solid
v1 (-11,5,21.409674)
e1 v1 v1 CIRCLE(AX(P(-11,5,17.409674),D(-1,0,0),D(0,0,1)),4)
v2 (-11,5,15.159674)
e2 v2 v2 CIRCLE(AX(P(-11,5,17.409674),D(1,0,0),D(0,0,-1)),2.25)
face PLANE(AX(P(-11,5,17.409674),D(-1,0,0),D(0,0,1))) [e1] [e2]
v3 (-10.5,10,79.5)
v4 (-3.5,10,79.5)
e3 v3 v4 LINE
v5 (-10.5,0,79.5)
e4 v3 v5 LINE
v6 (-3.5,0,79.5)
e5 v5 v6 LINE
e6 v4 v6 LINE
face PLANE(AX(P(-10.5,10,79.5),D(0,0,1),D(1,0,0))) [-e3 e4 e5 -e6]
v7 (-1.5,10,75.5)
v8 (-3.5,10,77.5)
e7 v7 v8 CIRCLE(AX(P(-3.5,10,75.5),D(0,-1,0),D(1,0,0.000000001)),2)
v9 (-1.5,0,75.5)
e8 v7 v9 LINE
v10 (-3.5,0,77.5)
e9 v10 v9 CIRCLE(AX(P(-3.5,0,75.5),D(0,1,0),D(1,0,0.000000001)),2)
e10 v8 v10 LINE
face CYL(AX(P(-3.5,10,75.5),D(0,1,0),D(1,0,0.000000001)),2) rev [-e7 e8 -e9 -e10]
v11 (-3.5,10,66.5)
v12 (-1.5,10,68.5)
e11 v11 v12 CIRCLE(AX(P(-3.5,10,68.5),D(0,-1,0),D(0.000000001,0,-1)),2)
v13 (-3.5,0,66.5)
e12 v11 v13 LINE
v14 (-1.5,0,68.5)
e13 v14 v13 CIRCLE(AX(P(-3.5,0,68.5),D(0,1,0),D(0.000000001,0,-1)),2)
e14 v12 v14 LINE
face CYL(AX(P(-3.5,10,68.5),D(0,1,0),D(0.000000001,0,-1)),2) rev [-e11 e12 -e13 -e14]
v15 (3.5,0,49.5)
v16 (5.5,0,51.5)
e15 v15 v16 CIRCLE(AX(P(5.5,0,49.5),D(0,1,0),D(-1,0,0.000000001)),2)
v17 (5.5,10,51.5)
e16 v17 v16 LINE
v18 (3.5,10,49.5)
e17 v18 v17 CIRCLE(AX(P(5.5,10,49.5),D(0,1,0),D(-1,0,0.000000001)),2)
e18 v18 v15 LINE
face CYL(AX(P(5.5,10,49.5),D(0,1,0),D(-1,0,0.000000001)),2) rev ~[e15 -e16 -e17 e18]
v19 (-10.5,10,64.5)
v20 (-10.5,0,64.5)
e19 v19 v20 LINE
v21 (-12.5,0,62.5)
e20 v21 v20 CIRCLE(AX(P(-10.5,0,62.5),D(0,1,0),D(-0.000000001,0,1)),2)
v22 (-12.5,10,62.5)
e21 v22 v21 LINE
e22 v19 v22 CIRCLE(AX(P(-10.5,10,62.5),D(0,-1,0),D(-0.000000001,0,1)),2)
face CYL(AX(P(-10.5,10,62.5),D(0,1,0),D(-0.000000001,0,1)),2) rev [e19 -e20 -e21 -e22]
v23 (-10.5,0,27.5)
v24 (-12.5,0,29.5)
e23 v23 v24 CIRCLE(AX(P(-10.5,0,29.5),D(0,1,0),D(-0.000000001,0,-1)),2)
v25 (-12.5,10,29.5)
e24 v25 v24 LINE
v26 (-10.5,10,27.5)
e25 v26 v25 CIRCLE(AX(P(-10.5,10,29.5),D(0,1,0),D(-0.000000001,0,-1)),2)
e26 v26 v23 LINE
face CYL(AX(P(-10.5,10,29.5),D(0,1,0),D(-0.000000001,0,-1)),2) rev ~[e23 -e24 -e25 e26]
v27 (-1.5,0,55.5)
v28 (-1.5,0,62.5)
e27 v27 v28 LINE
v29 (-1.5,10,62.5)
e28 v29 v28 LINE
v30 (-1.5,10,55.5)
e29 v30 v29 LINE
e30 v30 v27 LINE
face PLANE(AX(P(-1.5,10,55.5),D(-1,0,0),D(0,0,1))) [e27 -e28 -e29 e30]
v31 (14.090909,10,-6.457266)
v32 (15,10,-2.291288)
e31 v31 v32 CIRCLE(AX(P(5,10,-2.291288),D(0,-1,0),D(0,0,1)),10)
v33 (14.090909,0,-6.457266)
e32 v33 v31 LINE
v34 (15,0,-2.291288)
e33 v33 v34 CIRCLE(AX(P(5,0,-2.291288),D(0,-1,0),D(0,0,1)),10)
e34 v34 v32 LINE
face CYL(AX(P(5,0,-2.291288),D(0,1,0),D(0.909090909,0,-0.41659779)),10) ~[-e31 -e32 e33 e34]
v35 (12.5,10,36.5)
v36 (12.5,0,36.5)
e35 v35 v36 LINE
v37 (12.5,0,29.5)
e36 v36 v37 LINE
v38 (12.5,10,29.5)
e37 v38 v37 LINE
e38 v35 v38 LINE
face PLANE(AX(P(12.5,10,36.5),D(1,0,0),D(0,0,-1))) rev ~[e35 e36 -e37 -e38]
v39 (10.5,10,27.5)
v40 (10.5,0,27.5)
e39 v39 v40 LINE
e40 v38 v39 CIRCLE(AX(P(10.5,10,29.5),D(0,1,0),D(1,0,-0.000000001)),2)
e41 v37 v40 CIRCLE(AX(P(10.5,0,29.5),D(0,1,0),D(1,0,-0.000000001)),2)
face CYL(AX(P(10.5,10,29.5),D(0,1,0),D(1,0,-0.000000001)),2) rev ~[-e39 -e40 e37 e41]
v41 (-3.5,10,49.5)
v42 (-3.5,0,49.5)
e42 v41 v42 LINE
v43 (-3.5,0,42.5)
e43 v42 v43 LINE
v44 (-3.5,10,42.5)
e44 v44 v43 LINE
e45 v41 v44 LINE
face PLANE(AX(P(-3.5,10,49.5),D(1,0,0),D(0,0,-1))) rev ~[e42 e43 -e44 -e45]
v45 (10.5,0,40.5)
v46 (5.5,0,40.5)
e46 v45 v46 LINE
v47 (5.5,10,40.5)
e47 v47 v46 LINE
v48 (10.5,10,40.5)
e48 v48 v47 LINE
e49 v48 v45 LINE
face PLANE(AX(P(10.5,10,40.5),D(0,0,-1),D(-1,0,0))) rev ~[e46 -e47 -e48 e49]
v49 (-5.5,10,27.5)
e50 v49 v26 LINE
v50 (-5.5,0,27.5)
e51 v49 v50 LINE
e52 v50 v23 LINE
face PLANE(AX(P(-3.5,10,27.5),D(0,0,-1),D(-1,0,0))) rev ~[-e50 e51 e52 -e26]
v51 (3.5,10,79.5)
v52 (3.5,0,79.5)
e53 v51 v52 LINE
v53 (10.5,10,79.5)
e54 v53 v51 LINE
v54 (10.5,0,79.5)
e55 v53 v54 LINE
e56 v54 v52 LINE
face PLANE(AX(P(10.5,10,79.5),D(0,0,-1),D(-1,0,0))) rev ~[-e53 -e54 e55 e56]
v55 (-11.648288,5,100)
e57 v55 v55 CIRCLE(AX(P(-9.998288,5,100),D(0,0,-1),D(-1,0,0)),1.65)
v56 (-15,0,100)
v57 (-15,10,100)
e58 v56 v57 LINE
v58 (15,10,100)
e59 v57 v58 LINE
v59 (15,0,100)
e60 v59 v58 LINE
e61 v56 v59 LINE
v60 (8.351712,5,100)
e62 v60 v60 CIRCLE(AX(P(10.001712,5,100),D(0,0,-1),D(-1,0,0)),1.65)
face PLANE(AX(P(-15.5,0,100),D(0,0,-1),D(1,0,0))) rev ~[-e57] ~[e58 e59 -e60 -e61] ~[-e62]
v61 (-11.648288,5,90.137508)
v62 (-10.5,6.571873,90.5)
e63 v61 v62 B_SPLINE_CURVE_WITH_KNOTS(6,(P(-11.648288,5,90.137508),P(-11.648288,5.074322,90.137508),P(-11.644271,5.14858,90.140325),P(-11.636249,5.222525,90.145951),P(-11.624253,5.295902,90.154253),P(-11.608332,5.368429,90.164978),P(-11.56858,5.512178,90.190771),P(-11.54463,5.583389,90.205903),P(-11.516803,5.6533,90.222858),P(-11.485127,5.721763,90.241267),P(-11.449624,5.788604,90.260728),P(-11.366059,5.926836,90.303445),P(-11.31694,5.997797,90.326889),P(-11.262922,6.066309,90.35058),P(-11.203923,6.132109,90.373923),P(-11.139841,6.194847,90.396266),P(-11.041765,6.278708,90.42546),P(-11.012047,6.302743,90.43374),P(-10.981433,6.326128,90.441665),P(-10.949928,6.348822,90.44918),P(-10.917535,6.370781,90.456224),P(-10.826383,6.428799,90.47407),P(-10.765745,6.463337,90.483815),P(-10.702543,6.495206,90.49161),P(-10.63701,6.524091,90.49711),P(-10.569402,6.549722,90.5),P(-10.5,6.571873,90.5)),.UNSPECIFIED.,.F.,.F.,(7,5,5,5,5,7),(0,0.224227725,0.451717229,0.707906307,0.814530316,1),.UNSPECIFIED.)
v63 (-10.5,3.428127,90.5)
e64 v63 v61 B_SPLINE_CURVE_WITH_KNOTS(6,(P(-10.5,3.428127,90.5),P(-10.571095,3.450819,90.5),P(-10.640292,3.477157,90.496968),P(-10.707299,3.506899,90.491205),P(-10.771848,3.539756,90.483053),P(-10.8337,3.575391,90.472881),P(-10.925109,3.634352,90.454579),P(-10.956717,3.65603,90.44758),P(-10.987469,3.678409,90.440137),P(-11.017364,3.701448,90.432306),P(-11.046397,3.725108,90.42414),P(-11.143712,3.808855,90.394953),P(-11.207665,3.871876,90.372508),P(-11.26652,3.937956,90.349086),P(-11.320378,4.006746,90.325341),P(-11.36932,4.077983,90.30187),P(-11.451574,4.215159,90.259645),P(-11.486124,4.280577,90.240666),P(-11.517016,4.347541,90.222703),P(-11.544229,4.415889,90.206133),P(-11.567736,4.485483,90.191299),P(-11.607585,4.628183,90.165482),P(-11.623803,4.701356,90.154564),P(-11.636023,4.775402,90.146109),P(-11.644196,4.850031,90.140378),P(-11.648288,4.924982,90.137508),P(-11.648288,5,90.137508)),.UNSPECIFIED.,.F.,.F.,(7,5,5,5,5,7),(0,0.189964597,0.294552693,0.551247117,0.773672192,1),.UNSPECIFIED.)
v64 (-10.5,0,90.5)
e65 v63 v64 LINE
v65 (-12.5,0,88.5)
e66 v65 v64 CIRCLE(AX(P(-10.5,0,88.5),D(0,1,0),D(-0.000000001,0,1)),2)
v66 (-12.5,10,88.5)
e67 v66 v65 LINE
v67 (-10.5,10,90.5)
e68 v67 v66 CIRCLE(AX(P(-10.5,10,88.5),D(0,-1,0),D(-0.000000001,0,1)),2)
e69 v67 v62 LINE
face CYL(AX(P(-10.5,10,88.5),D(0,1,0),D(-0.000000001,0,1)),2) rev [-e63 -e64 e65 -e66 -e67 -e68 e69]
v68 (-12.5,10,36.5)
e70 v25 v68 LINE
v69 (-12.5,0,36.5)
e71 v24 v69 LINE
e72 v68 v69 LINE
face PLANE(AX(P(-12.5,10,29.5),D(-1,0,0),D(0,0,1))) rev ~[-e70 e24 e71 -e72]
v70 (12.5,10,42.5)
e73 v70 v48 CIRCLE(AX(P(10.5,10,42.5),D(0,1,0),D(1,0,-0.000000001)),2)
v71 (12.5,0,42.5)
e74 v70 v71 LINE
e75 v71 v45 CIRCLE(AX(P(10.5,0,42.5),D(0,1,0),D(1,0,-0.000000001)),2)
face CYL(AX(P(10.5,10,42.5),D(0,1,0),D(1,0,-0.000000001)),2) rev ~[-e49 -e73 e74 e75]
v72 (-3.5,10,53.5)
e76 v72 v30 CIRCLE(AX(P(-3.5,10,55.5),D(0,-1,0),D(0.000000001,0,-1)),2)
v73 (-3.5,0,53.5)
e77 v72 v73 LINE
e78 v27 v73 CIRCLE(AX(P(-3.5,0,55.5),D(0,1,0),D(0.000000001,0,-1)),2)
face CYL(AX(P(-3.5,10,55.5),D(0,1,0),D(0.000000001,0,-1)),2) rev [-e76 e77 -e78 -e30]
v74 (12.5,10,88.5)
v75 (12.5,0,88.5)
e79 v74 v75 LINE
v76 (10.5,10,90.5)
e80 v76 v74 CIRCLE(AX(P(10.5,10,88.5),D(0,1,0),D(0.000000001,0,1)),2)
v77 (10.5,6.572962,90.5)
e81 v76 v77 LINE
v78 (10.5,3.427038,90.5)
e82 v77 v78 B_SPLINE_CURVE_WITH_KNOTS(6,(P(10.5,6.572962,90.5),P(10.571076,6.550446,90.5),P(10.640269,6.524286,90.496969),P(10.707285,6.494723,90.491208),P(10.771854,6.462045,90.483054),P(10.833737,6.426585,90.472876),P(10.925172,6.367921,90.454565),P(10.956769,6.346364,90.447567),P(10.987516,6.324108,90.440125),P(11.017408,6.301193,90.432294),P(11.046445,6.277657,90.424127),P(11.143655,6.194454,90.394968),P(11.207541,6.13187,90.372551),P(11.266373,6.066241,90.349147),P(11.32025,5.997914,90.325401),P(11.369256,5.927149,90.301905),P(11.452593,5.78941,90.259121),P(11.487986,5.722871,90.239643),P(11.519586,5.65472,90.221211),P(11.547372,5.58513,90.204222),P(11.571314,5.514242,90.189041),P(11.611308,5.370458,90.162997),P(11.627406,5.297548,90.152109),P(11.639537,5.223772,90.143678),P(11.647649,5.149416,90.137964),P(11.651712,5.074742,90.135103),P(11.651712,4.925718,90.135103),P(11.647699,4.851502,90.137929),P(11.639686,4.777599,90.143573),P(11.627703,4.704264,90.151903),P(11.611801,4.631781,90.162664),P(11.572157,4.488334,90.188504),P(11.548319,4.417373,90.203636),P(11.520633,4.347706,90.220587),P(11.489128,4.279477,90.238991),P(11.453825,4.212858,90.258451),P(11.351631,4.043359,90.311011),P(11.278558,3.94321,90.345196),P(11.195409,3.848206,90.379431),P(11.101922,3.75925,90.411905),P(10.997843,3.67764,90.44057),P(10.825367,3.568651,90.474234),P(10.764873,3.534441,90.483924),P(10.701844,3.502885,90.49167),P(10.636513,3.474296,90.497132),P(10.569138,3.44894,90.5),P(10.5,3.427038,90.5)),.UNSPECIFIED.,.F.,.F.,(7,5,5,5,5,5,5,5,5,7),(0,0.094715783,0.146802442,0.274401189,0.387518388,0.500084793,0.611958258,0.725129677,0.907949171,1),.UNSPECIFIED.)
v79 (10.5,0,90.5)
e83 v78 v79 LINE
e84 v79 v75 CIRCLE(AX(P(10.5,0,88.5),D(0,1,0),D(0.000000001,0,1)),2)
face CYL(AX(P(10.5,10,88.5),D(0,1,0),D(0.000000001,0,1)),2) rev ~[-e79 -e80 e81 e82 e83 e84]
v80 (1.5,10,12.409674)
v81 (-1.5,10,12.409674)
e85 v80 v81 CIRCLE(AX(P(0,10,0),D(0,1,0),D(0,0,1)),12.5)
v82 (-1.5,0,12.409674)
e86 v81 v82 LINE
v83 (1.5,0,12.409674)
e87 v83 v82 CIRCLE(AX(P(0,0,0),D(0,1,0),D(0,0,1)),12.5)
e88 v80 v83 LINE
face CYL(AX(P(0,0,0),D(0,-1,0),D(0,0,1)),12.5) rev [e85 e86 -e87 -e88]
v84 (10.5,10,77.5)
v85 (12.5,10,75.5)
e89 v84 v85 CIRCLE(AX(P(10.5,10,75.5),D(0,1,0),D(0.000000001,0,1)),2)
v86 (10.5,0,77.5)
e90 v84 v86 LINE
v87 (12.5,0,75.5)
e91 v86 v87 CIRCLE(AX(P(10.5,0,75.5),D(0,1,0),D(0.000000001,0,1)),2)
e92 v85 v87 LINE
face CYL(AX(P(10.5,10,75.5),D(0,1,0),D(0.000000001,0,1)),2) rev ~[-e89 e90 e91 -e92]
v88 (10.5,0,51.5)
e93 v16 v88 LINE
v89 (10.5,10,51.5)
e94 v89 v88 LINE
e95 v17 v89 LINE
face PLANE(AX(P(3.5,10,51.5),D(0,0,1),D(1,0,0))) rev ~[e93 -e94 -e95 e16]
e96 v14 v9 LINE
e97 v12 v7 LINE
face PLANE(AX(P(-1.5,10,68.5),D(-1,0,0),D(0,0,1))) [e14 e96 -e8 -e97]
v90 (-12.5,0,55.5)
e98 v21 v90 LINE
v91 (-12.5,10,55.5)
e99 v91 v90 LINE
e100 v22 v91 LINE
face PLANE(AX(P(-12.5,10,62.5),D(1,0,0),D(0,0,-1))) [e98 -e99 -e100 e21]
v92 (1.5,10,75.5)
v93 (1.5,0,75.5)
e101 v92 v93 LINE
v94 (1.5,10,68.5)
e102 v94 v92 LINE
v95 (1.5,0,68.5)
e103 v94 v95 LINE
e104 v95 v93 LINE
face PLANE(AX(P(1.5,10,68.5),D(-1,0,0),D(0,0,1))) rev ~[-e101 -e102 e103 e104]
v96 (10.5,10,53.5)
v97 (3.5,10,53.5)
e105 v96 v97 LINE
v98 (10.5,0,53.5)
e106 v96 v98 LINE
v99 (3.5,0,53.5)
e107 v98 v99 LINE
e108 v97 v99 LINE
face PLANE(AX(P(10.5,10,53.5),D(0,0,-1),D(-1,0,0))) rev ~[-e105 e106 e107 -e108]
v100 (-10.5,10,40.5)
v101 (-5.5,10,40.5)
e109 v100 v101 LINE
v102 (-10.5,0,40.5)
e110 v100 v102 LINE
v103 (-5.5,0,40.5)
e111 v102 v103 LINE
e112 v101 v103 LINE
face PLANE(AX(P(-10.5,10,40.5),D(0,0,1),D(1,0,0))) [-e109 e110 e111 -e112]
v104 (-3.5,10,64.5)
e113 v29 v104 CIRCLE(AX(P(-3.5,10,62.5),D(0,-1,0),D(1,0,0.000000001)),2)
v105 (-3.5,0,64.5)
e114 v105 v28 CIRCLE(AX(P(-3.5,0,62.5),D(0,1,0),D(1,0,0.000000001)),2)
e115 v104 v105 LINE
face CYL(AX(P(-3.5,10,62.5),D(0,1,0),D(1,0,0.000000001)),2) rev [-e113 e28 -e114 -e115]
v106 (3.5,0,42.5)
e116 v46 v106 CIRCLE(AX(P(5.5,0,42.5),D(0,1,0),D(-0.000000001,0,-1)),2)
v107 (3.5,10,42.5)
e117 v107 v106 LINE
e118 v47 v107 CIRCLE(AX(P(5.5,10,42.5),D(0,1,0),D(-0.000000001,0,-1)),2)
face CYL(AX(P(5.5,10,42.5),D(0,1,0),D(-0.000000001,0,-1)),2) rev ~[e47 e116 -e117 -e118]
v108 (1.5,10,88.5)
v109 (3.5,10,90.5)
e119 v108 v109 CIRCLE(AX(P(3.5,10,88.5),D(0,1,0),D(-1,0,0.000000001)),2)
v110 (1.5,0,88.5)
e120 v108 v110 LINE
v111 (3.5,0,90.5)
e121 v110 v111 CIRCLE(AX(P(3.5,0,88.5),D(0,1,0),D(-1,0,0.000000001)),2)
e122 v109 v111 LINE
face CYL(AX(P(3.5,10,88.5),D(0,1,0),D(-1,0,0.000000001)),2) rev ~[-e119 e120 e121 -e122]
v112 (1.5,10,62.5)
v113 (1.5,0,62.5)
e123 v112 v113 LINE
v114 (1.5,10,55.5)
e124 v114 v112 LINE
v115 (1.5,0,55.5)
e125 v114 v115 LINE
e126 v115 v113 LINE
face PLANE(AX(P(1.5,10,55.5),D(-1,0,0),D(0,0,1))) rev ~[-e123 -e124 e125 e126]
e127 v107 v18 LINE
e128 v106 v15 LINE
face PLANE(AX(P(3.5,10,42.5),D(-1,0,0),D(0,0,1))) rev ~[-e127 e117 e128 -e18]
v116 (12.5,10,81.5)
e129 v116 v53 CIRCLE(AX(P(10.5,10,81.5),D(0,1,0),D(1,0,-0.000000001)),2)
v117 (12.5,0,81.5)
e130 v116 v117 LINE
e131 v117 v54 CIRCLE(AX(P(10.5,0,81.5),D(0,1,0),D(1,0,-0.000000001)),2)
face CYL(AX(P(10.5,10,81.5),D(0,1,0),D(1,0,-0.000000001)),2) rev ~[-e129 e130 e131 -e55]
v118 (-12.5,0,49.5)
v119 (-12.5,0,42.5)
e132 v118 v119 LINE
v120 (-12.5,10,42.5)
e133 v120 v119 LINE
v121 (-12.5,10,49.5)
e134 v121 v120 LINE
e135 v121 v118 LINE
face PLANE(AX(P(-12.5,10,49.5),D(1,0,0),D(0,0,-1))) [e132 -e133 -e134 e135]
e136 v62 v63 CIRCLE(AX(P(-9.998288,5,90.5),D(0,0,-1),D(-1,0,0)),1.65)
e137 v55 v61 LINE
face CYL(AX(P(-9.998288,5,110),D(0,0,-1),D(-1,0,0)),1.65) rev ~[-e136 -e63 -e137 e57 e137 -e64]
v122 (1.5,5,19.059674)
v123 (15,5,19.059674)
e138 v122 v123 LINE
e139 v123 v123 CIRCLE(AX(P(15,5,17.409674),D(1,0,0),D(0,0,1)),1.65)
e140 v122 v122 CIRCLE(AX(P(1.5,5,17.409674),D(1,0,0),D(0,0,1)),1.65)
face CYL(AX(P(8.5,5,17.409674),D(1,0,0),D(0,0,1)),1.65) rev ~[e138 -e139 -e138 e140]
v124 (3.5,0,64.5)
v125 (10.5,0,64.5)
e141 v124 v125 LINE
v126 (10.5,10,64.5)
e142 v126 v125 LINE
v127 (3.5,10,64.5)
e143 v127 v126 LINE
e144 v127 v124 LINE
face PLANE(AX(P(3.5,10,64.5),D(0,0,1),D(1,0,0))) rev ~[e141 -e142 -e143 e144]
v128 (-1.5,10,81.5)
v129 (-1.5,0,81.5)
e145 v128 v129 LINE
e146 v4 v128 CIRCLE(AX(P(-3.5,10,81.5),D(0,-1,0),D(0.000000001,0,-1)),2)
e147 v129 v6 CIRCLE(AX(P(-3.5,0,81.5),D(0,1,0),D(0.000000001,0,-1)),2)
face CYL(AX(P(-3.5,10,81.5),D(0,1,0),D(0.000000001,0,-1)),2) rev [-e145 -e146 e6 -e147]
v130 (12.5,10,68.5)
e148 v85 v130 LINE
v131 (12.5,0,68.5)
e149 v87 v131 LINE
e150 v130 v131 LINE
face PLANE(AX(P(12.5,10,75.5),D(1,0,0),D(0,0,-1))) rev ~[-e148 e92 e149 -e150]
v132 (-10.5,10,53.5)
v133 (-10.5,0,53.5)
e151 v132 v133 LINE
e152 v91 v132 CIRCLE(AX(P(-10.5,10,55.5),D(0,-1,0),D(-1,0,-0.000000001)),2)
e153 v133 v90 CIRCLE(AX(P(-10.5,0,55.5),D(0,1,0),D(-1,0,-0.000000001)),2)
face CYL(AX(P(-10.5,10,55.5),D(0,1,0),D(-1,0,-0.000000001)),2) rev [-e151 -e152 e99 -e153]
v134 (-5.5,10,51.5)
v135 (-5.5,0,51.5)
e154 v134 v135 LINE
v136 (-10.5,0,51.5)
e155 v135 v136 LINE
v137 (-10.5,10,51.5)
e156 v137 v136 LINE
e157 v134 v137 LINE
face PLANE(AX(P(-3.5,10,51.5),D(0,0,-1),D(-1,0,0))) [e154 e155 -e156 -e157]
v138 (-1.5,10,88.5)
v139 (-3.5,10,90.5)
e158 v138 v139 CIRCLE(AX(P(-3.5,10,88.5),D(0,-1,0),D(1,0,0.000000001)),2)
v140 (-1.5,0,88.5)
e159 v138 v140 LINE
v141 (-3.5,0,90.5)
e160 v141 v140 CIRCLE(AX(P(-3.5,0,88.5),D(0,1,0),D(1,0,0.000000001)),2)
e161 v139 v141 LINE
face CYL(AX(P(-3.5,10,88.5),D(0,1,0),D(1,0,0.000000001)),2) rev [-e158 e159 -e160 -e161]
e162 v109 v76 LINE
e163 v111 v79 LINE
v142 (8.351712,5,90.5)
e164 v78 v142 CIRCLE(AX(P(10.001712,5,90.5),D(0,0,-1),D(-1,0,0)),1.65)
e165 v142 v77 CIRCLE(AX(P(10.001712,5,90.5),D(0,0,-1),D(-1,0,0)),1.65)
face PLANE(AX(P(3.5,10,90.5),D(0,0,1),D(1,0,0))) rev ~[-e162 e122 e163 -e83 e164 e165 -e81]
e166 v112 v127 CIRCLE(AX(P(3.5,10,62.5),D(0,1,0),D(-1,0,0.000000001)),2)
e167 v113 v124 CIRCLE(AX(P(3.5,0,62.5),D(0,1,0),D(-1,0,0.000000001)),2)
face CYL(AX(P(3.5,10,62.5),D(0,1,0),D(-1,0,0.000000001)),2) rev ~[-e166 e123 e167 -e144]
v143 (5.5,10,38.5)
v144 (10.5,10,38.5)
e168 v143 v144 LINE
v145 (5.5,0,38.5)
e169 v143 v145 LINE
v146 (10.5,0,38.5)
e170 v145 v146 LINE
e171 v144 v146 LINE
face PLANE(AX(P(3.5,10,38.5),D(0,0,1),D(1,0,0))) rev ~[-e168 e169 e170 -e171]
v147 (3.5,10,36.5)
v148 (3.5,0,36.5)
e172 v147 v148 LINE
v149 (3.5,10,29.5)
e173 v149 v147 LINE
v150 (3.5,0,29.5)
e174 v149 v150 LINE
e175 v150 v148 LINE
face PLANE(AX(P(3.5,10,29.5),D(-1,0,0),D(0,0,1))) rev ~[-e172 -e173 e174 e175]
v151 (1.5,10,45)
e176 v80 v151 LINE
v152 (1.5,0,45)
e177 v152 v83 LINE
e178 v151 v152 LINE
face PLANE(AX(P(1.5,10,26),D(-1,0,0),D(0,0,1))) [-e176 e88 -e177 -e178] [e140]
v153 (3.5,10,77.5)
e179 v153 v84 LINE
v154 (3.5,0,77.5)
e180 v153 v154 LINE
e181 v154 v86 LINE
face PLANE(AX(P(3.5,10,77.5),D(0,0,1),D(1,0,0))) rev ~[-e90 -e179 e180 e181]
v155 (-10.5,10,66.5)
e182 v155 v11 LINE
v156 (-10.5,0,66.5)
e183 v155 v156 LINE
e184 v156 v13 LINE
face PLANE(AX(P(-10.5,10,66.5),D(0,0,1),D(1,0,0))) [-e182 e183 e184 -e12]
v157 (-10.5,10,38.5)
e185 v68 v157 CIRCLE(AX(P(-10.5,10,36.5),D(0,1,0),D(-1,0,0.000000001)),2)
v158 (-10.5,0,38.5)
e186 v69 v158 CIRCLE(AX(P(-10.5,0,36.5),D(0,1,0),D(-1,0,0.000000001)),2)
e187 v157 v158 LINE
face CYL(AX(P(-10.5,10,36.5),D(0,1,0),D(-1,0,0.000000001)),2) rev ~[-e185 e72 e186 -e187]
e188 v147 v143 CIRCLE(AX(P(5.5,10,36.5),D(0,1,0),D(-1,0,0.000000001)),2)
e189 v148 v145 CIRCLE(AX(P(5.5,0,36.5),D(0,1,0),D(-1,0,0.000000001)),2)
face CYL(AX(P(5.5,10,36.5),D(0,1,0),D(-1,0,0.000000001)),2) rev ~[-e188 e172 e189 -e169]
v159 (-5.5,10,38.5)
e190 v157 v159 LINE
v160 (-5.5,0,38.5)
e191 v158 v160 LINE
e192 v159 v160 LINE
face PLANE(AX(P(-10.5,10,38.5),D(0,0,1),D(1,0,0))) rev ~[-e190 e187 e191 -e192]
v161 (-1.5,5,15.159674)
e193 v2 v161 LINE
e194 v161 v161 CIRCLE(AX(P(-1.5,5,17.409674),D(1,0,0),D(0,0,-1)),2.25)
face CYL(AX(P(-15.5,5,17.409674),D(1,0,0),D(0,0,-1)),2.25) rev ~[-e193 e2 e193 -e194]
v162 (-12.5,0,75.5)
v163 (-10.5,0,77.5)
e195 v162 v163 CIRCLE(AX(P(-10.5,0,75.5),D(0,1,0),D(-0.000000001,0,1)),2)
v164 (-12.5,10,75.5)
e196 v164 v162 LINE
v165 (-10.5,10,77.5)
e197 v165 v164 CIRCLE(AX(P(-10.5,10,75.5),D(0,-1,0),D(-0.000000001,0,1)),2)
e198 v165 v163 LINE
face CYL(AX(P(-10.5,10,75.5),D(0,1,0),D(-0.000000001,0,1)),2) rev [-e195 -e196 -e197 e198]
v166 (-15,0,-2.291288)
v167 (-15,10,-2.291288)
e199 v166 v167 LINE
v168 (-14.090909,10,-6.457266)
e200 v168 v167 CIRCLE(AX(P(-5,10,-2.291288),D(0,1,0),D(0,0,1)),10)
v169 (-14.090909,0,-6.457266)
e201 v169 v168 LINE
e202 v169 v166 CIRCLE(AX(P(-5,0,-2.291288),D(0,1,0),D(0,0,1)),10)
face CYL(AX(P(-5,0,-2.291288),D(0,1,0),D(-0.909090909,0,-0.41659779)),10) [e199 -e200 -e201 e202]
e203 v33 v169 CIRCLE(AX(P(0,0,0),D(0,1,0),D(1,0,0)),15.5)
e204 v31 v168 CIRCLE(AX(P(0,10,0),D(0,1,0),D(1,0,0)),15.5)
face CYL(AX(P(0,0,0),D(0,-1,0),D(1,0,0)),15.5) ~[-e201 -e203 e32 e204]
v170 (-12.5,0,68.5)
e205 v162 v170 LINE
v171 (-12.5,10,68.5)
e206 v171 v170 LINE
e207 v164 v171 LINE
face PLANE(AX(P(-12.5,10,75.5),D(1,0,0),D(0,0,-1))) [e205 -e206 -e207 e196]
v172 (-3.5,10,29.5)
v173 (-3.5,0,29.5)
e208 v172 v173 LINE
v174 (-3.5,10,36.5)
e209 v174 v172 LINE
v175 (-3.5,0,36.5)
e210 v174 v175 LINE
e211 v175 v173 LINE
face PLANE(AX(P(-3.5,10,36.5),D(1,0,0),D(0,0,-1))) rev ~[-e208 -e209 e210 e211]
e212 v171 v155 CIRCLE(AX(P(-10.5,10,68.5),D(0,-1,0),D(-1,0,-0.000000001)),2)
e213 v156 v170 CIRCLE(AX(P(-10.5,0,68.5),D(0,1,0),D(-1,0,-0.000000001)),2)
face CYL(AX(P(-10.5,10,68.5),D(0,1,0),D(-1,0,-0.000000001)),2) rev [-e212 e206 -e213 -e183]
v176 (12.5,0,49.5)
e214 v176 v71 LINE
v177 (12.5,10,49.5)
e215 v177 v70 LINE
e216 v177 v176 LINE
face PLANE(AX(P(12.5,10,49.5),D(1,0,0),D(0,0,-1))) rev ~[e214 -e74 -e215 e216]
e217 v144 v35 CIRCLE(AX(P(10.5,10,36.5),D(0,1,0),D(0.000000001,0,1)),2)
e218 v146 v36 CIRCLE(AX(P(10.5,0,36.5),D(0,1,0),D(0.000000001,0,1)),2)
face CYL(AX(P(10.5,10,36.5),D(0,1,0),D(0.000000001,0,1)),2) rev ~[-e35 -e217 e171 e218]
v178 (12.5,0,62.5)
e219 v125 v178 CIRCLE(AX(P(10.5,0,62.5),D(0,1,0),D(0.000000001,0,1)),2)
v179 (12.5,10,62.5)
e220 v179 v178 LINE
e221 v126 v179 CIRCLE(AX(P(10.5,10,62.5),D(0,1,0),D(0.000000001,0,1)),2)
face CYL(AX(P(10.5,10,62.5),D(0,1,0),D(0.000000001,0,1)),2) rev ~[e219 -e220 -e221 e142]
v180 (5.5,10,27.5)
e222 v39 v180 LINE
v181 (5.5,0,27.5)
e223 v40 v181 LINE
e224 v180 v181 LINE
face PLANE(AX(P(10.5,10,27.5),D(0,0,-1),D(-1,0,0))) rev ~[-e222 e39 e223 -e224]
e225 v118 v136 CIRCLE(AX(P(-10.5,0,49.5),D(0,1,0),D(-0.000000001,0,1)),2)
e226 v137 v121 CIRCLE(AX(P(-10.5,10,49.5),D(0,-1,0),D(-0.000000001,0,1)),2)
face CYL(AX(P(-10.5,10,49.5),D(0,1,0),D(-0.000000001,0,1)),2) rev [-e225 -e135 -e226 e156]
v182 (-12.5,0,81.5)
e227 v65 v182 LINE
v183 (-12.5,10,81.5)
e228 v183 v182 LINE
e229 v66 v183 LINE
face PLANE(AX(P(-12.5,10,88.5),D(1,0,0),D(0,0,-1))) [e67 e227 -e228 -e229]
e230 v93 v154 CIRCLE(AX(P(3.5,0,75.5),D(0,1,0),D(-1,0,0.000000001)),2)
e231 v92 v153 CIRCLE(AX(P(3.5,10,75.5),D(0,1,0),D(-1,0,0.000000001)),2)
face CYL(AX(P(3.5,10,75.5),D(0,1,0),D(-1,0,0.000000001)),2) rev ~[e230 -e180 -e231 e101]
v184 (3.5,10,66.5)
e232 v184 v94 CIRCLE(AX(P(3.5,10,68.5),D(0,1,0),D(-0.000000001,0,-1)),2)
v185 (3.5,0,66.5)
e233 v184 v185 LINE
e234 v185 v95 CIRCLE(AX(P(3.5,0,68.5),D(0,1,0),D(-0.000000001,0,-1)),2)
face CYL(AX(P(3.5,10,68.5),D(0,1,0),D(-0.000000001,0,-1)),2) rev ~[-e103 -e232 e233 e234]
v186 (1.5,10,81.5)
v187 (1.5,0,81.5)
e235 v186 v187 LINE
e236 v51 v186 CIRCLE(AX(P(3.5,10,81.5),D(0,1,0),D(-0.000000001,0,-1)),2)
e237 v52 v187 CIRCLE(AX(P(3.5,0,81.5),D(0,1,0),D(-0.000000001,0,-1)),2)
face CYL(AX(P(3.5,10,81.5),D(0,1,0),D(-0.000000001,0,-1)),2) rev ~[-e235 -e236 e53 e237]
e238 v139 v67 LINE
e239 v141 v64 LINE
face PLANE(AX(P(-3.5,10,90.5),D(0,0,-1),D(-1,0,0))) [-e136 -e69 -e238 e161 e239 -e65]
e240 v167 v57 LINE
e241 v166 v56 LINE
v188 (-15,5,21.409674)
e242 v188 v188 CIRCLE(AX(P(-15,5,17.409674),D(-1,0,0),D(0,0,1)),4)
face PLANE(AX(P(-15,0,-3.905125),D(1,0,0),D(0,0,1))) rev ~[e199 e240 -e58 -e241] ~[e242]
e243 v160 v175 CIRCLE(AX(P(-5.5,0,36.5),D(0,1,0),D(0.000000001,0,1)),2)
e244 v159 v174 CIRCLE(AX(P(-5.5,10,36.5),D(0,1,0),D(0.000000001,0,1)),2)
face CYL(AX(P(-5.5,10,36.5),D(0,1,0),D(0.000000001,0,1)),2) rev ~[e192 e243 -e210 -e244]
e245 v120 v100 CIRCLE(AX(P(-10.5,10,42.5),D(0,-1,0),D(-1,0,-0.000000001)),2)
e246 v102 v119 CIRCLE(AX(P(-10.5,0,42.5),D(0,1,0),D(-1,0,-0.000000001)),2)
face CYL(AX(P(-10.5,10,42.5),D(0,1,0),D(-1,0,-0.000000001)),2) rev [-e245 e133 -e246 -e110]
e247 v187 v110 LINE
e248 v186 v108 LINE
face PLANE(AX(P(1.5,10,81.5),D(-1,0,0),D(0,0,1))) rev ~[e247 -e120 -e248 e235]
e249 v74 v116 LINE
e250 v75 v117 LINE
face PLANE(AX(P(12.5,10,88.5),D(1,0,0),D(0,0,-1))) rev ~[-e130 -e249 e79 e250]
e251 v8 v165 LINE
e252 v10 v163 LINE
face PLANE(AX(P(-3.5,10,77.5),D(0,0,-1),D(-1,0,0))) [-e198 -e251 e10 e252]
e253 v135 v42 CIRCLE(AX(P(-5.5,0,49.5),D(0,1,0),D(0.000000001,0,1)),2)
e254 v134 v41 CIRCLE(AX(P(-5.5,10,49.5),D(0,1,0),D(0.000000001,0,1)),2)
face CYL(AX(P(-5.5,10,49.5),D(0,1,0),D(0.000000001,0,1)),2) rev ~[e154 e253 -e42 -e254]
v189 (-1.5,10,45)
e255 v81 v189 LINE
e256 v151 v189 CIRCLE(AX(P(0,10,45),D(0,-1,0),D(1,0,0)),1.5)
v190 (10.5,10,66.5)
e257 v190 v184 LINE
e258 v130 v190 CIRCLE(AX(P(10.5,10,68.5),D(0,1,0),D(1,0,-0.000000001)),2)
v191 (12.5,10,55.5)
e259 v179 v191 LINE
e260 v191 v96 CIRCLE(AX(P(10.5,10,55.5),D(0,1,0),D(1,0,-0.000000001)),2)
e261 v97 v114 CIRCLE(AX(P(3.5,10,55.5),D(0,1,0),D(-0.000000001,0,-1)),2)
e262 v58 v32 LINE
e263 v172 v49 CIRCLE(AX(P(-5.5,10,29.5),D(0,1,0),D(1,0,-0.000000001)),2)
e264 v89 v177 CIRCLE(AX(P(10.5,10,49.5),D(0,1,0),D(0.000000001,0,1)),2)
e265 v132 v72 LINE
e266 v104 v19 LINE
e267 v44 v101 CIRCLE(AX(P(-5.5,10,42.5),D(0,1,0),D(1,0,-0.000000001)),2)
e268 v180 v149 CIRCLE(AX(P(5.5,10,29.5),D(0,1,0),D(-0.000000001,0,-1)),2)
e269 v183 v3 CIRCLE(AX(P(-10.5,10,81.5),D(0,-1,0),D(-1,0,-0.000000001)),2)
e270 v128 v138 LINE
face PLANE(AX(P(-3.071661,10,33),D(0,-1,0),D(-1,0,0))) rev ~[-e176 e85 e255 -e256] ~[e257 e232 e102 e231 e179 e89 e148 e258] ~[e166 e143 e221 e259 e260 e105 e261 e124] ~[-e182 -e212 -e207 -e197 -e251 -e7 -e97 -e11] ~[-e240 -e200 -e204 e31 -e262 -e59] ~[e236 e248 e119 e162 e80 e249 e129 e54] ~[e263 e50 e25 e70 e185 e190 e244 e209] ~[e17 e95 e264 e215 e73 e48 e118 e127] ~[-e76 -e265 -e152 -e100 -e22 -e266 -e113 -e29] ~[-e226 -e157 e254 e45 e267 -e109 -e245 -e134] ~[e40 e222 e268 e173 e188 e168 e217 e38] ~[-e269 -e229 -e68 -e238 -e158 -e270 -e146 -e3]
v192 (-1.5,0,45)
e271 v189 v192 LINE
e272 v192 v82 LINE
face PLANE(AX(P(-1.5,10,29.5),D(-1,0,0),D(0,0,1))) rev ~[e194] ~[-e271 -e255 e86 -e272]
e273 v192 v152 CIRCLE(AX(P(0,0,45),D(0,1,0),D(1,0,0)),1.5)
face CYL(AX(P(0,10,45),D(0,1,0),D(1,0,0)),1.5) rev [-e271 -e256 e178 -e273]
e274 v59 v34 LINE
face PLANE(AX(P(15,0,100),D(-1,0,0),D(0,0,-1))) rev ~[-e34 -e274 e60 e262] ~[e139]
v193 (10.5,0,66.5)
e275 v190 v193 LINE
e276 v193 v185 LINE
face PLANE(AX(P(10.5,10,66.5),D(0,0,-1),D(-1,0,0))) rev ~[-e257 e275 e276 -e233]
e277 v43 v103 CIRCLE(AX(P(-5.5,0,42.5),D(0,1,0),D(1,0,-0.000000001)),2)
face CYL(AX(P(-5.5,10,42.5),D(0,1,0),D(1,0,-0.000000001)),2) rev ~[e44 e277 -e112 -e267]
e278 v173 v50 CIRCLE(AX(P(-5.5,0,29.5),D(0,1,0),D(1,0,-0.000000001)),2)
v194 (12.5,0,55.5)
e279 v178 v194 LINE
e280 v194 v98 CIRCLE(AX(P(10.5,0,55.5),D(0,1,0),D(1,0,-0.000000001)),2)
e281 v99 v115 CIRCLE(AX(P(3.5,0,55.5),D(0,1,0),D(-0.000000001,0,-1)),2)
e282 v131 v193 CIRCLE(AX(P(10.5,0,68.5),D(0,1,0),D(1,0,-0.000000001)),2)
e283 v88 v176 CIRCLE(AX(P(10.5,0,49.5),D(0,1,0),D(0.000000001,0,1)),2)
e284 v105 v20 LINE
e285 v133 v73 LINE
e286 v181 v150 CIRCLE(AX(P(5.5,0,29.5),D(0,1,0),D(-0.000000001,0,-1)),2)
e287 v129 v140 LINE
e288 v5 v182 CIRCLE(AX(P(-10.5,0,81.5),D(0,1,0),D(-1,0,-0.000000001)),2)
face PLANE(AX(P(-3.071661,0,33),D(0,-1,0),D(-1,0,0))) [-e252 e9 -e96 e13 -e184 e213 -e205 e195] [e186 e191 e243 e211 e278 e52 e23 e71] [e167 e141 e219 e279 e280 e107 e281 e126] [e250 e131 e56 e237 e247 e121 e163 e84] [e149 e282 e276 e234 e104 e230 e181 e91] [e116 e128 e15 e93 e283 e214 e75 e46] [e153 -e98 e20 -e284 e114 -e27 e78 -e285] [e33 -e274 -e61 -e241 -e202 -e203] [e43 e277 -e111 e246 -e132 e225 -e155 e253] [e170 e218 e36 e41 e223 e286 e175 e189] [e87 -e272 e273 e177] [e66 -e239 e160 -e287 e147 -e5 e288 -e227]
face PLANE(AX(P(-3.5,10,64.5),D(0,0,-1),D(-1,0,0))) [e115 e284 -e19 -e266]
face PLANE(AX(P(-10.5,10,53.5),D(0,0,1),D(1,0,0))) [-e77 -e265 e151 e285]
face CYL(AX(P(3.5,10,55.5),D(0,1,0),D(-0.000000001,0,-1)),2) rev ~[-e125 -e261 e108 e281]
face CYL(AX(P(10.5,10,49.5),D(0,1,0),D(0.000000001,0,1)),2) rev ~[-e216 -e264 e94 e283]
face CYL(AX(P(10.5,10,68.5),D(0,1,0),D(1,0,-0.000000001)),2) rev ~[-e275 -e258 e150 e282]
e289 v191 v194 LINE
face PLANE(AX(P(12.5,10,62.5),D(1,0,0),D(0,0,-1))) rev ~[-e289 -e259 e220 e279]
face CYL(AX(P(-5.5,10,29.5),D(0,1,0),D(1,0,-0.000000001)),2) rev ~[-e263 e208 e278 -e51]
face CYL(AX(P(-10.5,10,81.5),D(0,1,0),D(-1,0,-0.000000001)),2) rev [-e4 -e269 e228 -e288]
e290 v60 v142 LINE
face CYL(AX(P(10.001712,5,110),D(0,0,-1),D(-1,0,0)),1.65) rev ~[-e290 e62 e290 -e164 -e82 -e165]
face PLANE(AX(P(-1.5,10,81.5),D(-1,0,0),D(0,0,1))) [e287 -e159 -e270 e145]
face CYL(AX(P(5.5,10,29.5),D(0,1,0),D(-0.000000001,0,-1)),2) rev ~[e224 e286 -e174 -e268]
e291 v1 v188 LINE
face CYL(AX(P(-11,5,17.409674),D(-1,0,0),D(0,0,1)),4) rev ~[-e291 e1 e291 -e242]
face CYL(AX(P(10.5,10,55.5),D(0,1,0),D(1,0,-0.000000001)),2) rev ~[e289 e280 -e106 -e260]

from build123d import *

# Parameters (mm, degrees)
SKETCH_1_R                  = 12.5
EXTRUDE_1_DEPTH             = 10
CUT_EXTRUDE_5_DEPTH         = 102.687019821
SKETCH_8_W                  = 1.65
SKETCH_8_H                  = 14
HOLE_WIZARD_M41_D           = 4.5
HOLE_WIZARD_M41_DEPTH       = 14
HOLE_WIZARD_M41_CBORE_D     = 8
HOLE_WIZARD_M41_CBORE_DEPTH = 4.5
CUT_EXTRUDE_START           = -10
CUT_EXTRUDE_6_DEPTH         = 10
FILLET_1_R                  = 10
M4X0_72_D                   = 3.3
M4X0_72_DEPTH               = 10
M4X0_72_TIP                 = 0.991420021
CUT_EXTRUDE_7_DEPTH         = 102.612007273
EXTRUDE_2_DEPTH             = 10


with BuildPart() as part:
    # Эскиз1 → Бобышка-Вытянуть1 (new body)
    with BuildSketch(Plane(origin=(0, 0, 0), x_dir=(1, 0, 0), z_dir=(0, 1, 0))):
        with BuildLine():
            Line((-15.5, 0), (-15.5, -100))
            Line((-15.5, -100), (15.5, -100))
            Line((15.5, -100), (15.5, 0))
            ThreePointArc((15.5, 0), (0, 15.5), (-15.5, 0))
        make_face()
        with Locations(Location((0, 0, 0), (0, 0, 270))):
            Circle(SKETCH_1_R, mode=Mode.SUBTRACT)
    extrude(amount=EXTRUDE_1_DEPTH)

    # Эскиз6 → Вырез-Вытянуть5 (cut, through all)
    with BuildSketch(Plane(origin=(0, 10, 0), x_dir=(1, 0, 0), z_dir=(0, 1, 0))):
        with BuildLine():
            Line((-1.5, -12.409673646), (-1.5, -26))
            ThreePointArc((-1.5, -26), (0, -27.5), (1.5, -26))
            Line((1.5, -26), (1.5, -12.409673646))
            ThreePointArc((1.5, -12.409673646), (0, -12.5), (-1.5, -12.409673646))
        make_face()
        with BuildLine():
            Line((-1.5, -42.5), (-1.5, -49.5))
            ThreePointArc((-1.5, -49.5), (-2.085786438, -50.914213562), (-3.5, -51.5))
            Line((-3.5, -51.5), (-10.5, -51.5))
            ThreePointArc((-10.5, -51.5), (-11.914213562, -50.914213562), (-12.5, -49.5))
            Line((-12.5, -49.5), (-12.5, -42.5))
            ThreePointArc((-12.5, -42.5), (-11.914213562, -41.085786438), (-10.5, -40.5))
            Line((-10.5, -40.5), (-3.5, -40.5))
            ThreePointArc((-3.5, -40.5), (-2.085786438, -41.085786438), (-1.5, -42.5))
        make_face()
        with BuildLine():
            Line((-1.5, -55.5), (-1.5, -62.5))
            ThreePointArc((-1.5, -62.5), (-2.085786438, -63.914213562), (-3.5, -64.5))
            Line((-3.5, -64.5), (-10.5, -64.5))
            ThreePointArc((-10.5, -64.5), (-11.914213562, -63.914213562), (-12.5, -62.5))
            Line((-12.5, -62.5), (-12.5, -55.5))
            ThreePointArc((-12.5, -55.5), (-11.914213562, -54.085786438), (-10.5, -53.5))
            Line((-10.5, -53.5), (-3.5, -53.5))
            ThreePointArc((-3.5, -53.5), (-2.085786438, -54.085786438), (-1.5, -55.5))
        make_face()
        with BuildLine():
            Line((-1.5, -68.5), (-1.5, -75.5))
            ThreePointArc((-1.5, -75.5), (-2.085786438, -76.914213562), (-3.5, -77.5))
            Line((-3.5, -77.5), (-10.5, -77.5))
            ThreePointArc((-10.5, -77.5), (-11.914213562, -76.914213562), (-12.5, -75.5))
            Line((-12.5, -75.5), (-12.5, -68.5))
            ThreePointArc((-12.5, -68.5), (-11.914213562, -67.085786438), (-10.5, -66.5))
            Line((-10.5, -66.5), (-3.5, -66.5))
            ThreePointArc((-3.5, -66.5), (-2.085786438, -67.085786438), (-1.5, -68.5))
        make_face()
        with BuildLine():
            Line((-1.5, -81.5), (-1.5, -88.5))
            ThreePointArc((-1.5, -88.5), (-2.085786438, -89.914213562), (-3.5, -90.5))
            Line((-3.5, -90.5), (-10.5, -90.5))
            ThreePointArc((-10.5, -90.5), (-11.914213562, -89.914213562), (-12.5, -88.5))
            Line((-12.5, -88.5), (-12.5, -81.5))
            ThreePointArc((-12.5, -81.5), (-11.914213562, -80.085786438), (-10.5, -79.5))
            Line((-10.5, -79.5), (-3.5, -79.5))
            ThreePointArc((-3.5, -79.5), (-2.085786438, -80.085786438), (-1.5, -81.5))
        make_face()
        with BuildLine():
            Line((1.5, -29.5), (1.5, -36.5))
            ThreePointArc((1.5, -36.5), (2.085786438, -37.914213562), (3.5, -38.5))
            Line((3.5, -38.5), (10.5, -38.5))
            ThreePointArc((10.5, -38.5), (11.914213562, -37.914213562), (12.5, -36.5))
            Line((12.5, -36.5), (12.5, -29.5))
            ThreePointArc((12.5, -29.5), (11.914213562, -28.085786438), (10.5, -27.5))
            Line((10.5, -27.5), (3.5, -27.5))
            ThreePointArc((3.5, -27.5), (2.085786438, -28.085786438), (1.5, -29.5))
        make_face()
        with BuildLine():
            Line((-12.5, -29.5), (-12.5, -36.5))
            ThreePointArc((-12.5, -36.5), (-11.914213562, -37.914213562), (-10.5, -38.5))
            Line((-10.5, -38.5), (-3.5, -38.5))
            ThreePointArc((-3.5, -38.5), (-2.085786438, -37.914213562), (-1.5, -36.5))
            Line((-1.5, -36.5), (-1.5, -29.5))
            ThreePointArc((-1.5, -29.5), (-2.085786438, -28.085786438), (-3.5, -27.5))
            Line((-3.5, -27.5), (-10.5, -27.5))
            ThreePointArc((-10.5, -27.5), (-11.914213562, -28.085786438), (-12.5, -29.5))
        make_face()
        with BuildLine():
            Line((10.5, -79.5), (3.5, -79.5))
            ThreePointArc((3.5, -79.5), (2.085786438, -80.085786438), (1.5, -81.5))
            Line((1.5, -81.5), (1.5, -88.5))
            ThreePointArc((1.5, -88.5), (2.085786438, -89.914213562), (3.5, -90.5))
            Line((3.5, -90.5), (10.5, -90.5))
            ThreePointArc((10.5, -90.5), (11.914213562, -89.914213562), (12.5, -88.5))
            Line((12.5, -88.5), (12.5, -81.5))
            ThreePointArc((12.5, -81.5), (11.914213562, -80.085786438), (10.5, -79.5))
        make_face()
        with BuildLine():
            Line((10.5, -66.5), (3.5, -66.5))
            ThreePointArc((3.5, -66.5), (2.085786438, -67.085786438), (1.5, -68.5))
            Line((1.5, -68.5), (1.5, -75.5))
            ThreePointArc((1.5, -75.5), (2.085786438, -76.914213562), (3.5, -77.5))
            Line((3.5, -77.5), (10.5, -77.5))
            ThreePointArc((10.5, -77.5), (11.914213562, -76.914213562), (12.5, -75.5))
            Line((12.5, -75.5), (12.5, -68.5))
            ThreePointArc((12.5, -68.5), (11.914213562, -67.085786438), (10.5, -66.5))
        make_face()
        with BuildLine():
            Line((10.5, -53.5), (3.5, -53.5))
            ThreePointArc((3.5, -53.5), (2.085786438, -54.085786438), (1.5, -55.5))
            Line((1.5, -55.5), (1.5, -62.5))
            ThreePointArc((1.5, -62.5), (2.085786438, -63.914213562), (3.5, -64.5))
            Line((3.5, -64.5), (10.5, -64.5))
            ThreePointArc((10.5, -64.5), (11.914213562, -63.914213562), (12.5, -62.5))
            Line((12.5, -62.5), (12.5, -55.5))
            ThreePointArc((12.5, -55.5), (11.914213562, -54.085786438), (10.5, -53.5))
        make_face()
        with BuildLine():
            Line((10.5, -40.5), (3.5, -40.5))
            ThreePointArc((3.5, -40.5), (2.085786438, -41.085786438), (1.5, -42.5))
            Line((1.5, -42.5), (1.5, -49.5))
            ThreePointArc((1.5, -49.5), (2.085786438, -50.914213562), (3.5, -51.5))
            Line((3.5, -51.5), (10.5, -51.5))
            ThreePointArc((10.5, -51.5), (11.914213562, -50.914213562), (12.5, -49.5))
            Line((12.5, -49.5), (12.5, -42.5))
            ThreePointArc((12.5, -42.5), (11.914213562, -41.085786438), (10.5, -40.5))
        make_face()
    extrude(amount=-CUT_EXTRUDE_5_DEPTH, mode=Mode.SUBTRACT)

    # Эскиз8 → Отверстие обработанное метчиком M4x0.71 (revolve, cut)
    with BuildSketch(Plane(origin=(1.5, 5, 17.409673646), x_dir=(0, 0, 1), z_dir=(0, 1, 0))):
        with Locations((0.825, 7)):
            Rectangle(SKETCH_8_W, SKETCH_8_H)
    revolve(axis=Axis((-4.85, 5, 17.409673646), (1, 0, 0)), mode=Mode.SUBTRACT)

    # Цековка для винта с внутренним шестигранником M41
    with Locations(Plane.ZY.offset(15.5)):
        with Locations((17.409673646, 5)):
            CounterBoreHole(HOLE_WIZARD_M41_D / 2, HOLE_WIZARD_M41_CBORE_D / 2, HOLE_WIZARD_M41_CBORE_DEPTH, depth=HOLE_WIZARD_M41_DEPTH)

    # Эскиз12 → Вырез-Вытянуть6 (cut)
    with BuildSketch(Plane(origin=(0, 10, 0), x_dir=(1, 0, 0), z_dir=(0, 1, 0)).offset(CUT_EXTRUDE_START)):
        with BuildLine():
            Line((-15, 3.905124838), (-15, -100))
            Line((-15, -100), (-15.5, -100))
            Line((-15.5, -100), (-15.5, 0))
            ThreePointArc((-15.5, 0), (-15.374491862, 1.968501969), (-15, 3.905124838))
        make_face()
        with BuildLine():
            Line((15, -100), (15, 3.905124838))
            ThreePointArc((15, 3.905124838), (15.374491862, 1.968501969), (15.5, 0))
            Line((15.5, 0), (15.5, -100))
            Line((15.5, -100), (15, -100))
        make_face()
    extrude(amount=CUT_EXTRUDE_6_DEPTH, mode=Mode.SUBTRACT)

    # Скругление1
    fillet_1_edges = [part.edges().sort_by_distance(p)[0] for p in [
        (15, 5, -3.905124838),
        (-15, 5, -3.905124838),
    ]]
    fillet(fillet_1_edges, radius=FILLET_1_R)

    # Отверстие обработанное метчиком M4x0.72
    with Locations(Plane.XY.offset(100)):
        with Locations((-9.998288453, 5), (10.001711547, 5)):
            Hole(M4X0_72_D / 2, depth=M4X0_72_DEPTH)
            with Locations((0, 0, -(M4X0_72_DEPTH + M4X0_72_TIP / 2))):  # 118° drill point
                Cone(0, M4X0_72_D / 2, M4X0_72_TIP, mode=Mode.SUBTRACT)

    # Эскиз16 → Вырез-Вытянуть7 (cut, through all)
    with BuildSketch(Plane(origin=(0, 10, 0), x_dir=(1, 0, 0), z_dir=(0, 1, 0))):
        with BuildLine():
            Line((1.5, -26), (1.5, -45))
            ThreePointArc((1.5, -45), (0, -46.5), (-1.5, -45))
            Line((-1.5, -45), (-1.5, -26))
            ThreePointArc((-1.5, -26), (0, -24.5), (1.5, -26))
        make_face()
    extrude(amount=-CUT_EXTRUDE_7_DEPTH, mode=Mode.SUBTRACT)

    # Эскиз17 → Бобышка-Вытянуть2 (add, through all)
    with BuildSketch(Plane(origin=(0, 10, 0), x_dir=(1, 0, 0), z_dir=(0, 1, 0))):
        with BuildLine():
            Line((-1.5, -29.5), (-1.5, -36.5))
            ThreePointArc((-1.5, -36.5), (-2.085786438, -37.914213562), (-3.5, -38.5))
            Line((-3.5, -38.5), (-5.5, -38.5))
            ThreePointArc((-5.5, -38.5), (-4.085786438, -37.914213562), (-3.5, -36.5))
            Line((-3.5, -36.5), (-3.5, -29.5))
            ThreePointArc((-3.5, -29.5), (-4.085786438, -28.085786438), (-5.5, -27.5))
            Line((-5.5, -27.5), (-3.5, -27.5))
            ThreePointArc((-3.5, -27.5), (-2.085786438, -28.085786438), (-1.5, -29.5))
        make_face()
        with BuildLine():
            Line((-1.5, -42.5), (-1.5, -49.5))
            ThreePointArc((-1.5, -49.5), (-2.085786438, -50.914213562), (-3.5, -51.5))
            Line((-3.5, -51.5), (-5.5, -51.5))
            ThreePointArc((-5.5, -51.5), (-4.085786438, -50.914213562), (-3.5, -49.5))
            Line((-3.5, -49.5), (-3.5, -42.5))
            ThreePointArc((-3.5, -42.5), (-4.085786438, -41.085786438), (-5.5, -40.5))
            Line((-5.5, -40.5), (-3.5, -40.5))
            ThreePointArc((-3.5, -40.5), (-2.085786438, -41.085786438), (-1.5, -42.5))
        make_face()
        with BuildLine():
            Line((5.5, -51.5), (3.5, -51.5))
            ThreePointArc((3.5, -51.5), (2.085786438, -50.914213562), (1.5, -49.5))
            Line((1.5, -49.5), (1.5, -42.5))
            ThreePointArc((1.5, -42.5), (2.085786438, -41.085786438), (3.5, -40.5))
            Line((3.5, -40.5), (5.5, -40.5))
            ThreePointArc((5.5, -40.5), (4.085786438, -41.085786438), (3.5, -42.5))
            Line((3.5, -42.5), (3.5, -49.5))
            ThreePointArc((3.5, -49.5), (4.085786438, -50.914213562), (5.5, -51.5))
        make_face()
        with BuildLine():
            Line((5.5, -38.5), (3.5, -38.5))
            ThreePointArc((3.5, -38.5), (2.085786438, -37.914213562), (1.5, -36.5))
            Line((1.5, -36.5), (1.5, -29.5))
            ThreePointArc((1.5, -29.5), (2.085786438, -28.085786438), (3.5, -27.5))
            Line((3.5, -27.5), (5.5, -27.5))
            ThreePointArc((5.5, -27.5), (4.085786438, -28.085786438), (3.5, -29.5))
            Line((3.5, -29.5), (3.5, -36.5))
            ThreePointArc((3.5, -36.5), (4.085786438, -37.914213562), (5.5, -38.5))
        make_face()
    extrude(amount=-EXTRUDE_2_DEPTH)


solid = part.part
